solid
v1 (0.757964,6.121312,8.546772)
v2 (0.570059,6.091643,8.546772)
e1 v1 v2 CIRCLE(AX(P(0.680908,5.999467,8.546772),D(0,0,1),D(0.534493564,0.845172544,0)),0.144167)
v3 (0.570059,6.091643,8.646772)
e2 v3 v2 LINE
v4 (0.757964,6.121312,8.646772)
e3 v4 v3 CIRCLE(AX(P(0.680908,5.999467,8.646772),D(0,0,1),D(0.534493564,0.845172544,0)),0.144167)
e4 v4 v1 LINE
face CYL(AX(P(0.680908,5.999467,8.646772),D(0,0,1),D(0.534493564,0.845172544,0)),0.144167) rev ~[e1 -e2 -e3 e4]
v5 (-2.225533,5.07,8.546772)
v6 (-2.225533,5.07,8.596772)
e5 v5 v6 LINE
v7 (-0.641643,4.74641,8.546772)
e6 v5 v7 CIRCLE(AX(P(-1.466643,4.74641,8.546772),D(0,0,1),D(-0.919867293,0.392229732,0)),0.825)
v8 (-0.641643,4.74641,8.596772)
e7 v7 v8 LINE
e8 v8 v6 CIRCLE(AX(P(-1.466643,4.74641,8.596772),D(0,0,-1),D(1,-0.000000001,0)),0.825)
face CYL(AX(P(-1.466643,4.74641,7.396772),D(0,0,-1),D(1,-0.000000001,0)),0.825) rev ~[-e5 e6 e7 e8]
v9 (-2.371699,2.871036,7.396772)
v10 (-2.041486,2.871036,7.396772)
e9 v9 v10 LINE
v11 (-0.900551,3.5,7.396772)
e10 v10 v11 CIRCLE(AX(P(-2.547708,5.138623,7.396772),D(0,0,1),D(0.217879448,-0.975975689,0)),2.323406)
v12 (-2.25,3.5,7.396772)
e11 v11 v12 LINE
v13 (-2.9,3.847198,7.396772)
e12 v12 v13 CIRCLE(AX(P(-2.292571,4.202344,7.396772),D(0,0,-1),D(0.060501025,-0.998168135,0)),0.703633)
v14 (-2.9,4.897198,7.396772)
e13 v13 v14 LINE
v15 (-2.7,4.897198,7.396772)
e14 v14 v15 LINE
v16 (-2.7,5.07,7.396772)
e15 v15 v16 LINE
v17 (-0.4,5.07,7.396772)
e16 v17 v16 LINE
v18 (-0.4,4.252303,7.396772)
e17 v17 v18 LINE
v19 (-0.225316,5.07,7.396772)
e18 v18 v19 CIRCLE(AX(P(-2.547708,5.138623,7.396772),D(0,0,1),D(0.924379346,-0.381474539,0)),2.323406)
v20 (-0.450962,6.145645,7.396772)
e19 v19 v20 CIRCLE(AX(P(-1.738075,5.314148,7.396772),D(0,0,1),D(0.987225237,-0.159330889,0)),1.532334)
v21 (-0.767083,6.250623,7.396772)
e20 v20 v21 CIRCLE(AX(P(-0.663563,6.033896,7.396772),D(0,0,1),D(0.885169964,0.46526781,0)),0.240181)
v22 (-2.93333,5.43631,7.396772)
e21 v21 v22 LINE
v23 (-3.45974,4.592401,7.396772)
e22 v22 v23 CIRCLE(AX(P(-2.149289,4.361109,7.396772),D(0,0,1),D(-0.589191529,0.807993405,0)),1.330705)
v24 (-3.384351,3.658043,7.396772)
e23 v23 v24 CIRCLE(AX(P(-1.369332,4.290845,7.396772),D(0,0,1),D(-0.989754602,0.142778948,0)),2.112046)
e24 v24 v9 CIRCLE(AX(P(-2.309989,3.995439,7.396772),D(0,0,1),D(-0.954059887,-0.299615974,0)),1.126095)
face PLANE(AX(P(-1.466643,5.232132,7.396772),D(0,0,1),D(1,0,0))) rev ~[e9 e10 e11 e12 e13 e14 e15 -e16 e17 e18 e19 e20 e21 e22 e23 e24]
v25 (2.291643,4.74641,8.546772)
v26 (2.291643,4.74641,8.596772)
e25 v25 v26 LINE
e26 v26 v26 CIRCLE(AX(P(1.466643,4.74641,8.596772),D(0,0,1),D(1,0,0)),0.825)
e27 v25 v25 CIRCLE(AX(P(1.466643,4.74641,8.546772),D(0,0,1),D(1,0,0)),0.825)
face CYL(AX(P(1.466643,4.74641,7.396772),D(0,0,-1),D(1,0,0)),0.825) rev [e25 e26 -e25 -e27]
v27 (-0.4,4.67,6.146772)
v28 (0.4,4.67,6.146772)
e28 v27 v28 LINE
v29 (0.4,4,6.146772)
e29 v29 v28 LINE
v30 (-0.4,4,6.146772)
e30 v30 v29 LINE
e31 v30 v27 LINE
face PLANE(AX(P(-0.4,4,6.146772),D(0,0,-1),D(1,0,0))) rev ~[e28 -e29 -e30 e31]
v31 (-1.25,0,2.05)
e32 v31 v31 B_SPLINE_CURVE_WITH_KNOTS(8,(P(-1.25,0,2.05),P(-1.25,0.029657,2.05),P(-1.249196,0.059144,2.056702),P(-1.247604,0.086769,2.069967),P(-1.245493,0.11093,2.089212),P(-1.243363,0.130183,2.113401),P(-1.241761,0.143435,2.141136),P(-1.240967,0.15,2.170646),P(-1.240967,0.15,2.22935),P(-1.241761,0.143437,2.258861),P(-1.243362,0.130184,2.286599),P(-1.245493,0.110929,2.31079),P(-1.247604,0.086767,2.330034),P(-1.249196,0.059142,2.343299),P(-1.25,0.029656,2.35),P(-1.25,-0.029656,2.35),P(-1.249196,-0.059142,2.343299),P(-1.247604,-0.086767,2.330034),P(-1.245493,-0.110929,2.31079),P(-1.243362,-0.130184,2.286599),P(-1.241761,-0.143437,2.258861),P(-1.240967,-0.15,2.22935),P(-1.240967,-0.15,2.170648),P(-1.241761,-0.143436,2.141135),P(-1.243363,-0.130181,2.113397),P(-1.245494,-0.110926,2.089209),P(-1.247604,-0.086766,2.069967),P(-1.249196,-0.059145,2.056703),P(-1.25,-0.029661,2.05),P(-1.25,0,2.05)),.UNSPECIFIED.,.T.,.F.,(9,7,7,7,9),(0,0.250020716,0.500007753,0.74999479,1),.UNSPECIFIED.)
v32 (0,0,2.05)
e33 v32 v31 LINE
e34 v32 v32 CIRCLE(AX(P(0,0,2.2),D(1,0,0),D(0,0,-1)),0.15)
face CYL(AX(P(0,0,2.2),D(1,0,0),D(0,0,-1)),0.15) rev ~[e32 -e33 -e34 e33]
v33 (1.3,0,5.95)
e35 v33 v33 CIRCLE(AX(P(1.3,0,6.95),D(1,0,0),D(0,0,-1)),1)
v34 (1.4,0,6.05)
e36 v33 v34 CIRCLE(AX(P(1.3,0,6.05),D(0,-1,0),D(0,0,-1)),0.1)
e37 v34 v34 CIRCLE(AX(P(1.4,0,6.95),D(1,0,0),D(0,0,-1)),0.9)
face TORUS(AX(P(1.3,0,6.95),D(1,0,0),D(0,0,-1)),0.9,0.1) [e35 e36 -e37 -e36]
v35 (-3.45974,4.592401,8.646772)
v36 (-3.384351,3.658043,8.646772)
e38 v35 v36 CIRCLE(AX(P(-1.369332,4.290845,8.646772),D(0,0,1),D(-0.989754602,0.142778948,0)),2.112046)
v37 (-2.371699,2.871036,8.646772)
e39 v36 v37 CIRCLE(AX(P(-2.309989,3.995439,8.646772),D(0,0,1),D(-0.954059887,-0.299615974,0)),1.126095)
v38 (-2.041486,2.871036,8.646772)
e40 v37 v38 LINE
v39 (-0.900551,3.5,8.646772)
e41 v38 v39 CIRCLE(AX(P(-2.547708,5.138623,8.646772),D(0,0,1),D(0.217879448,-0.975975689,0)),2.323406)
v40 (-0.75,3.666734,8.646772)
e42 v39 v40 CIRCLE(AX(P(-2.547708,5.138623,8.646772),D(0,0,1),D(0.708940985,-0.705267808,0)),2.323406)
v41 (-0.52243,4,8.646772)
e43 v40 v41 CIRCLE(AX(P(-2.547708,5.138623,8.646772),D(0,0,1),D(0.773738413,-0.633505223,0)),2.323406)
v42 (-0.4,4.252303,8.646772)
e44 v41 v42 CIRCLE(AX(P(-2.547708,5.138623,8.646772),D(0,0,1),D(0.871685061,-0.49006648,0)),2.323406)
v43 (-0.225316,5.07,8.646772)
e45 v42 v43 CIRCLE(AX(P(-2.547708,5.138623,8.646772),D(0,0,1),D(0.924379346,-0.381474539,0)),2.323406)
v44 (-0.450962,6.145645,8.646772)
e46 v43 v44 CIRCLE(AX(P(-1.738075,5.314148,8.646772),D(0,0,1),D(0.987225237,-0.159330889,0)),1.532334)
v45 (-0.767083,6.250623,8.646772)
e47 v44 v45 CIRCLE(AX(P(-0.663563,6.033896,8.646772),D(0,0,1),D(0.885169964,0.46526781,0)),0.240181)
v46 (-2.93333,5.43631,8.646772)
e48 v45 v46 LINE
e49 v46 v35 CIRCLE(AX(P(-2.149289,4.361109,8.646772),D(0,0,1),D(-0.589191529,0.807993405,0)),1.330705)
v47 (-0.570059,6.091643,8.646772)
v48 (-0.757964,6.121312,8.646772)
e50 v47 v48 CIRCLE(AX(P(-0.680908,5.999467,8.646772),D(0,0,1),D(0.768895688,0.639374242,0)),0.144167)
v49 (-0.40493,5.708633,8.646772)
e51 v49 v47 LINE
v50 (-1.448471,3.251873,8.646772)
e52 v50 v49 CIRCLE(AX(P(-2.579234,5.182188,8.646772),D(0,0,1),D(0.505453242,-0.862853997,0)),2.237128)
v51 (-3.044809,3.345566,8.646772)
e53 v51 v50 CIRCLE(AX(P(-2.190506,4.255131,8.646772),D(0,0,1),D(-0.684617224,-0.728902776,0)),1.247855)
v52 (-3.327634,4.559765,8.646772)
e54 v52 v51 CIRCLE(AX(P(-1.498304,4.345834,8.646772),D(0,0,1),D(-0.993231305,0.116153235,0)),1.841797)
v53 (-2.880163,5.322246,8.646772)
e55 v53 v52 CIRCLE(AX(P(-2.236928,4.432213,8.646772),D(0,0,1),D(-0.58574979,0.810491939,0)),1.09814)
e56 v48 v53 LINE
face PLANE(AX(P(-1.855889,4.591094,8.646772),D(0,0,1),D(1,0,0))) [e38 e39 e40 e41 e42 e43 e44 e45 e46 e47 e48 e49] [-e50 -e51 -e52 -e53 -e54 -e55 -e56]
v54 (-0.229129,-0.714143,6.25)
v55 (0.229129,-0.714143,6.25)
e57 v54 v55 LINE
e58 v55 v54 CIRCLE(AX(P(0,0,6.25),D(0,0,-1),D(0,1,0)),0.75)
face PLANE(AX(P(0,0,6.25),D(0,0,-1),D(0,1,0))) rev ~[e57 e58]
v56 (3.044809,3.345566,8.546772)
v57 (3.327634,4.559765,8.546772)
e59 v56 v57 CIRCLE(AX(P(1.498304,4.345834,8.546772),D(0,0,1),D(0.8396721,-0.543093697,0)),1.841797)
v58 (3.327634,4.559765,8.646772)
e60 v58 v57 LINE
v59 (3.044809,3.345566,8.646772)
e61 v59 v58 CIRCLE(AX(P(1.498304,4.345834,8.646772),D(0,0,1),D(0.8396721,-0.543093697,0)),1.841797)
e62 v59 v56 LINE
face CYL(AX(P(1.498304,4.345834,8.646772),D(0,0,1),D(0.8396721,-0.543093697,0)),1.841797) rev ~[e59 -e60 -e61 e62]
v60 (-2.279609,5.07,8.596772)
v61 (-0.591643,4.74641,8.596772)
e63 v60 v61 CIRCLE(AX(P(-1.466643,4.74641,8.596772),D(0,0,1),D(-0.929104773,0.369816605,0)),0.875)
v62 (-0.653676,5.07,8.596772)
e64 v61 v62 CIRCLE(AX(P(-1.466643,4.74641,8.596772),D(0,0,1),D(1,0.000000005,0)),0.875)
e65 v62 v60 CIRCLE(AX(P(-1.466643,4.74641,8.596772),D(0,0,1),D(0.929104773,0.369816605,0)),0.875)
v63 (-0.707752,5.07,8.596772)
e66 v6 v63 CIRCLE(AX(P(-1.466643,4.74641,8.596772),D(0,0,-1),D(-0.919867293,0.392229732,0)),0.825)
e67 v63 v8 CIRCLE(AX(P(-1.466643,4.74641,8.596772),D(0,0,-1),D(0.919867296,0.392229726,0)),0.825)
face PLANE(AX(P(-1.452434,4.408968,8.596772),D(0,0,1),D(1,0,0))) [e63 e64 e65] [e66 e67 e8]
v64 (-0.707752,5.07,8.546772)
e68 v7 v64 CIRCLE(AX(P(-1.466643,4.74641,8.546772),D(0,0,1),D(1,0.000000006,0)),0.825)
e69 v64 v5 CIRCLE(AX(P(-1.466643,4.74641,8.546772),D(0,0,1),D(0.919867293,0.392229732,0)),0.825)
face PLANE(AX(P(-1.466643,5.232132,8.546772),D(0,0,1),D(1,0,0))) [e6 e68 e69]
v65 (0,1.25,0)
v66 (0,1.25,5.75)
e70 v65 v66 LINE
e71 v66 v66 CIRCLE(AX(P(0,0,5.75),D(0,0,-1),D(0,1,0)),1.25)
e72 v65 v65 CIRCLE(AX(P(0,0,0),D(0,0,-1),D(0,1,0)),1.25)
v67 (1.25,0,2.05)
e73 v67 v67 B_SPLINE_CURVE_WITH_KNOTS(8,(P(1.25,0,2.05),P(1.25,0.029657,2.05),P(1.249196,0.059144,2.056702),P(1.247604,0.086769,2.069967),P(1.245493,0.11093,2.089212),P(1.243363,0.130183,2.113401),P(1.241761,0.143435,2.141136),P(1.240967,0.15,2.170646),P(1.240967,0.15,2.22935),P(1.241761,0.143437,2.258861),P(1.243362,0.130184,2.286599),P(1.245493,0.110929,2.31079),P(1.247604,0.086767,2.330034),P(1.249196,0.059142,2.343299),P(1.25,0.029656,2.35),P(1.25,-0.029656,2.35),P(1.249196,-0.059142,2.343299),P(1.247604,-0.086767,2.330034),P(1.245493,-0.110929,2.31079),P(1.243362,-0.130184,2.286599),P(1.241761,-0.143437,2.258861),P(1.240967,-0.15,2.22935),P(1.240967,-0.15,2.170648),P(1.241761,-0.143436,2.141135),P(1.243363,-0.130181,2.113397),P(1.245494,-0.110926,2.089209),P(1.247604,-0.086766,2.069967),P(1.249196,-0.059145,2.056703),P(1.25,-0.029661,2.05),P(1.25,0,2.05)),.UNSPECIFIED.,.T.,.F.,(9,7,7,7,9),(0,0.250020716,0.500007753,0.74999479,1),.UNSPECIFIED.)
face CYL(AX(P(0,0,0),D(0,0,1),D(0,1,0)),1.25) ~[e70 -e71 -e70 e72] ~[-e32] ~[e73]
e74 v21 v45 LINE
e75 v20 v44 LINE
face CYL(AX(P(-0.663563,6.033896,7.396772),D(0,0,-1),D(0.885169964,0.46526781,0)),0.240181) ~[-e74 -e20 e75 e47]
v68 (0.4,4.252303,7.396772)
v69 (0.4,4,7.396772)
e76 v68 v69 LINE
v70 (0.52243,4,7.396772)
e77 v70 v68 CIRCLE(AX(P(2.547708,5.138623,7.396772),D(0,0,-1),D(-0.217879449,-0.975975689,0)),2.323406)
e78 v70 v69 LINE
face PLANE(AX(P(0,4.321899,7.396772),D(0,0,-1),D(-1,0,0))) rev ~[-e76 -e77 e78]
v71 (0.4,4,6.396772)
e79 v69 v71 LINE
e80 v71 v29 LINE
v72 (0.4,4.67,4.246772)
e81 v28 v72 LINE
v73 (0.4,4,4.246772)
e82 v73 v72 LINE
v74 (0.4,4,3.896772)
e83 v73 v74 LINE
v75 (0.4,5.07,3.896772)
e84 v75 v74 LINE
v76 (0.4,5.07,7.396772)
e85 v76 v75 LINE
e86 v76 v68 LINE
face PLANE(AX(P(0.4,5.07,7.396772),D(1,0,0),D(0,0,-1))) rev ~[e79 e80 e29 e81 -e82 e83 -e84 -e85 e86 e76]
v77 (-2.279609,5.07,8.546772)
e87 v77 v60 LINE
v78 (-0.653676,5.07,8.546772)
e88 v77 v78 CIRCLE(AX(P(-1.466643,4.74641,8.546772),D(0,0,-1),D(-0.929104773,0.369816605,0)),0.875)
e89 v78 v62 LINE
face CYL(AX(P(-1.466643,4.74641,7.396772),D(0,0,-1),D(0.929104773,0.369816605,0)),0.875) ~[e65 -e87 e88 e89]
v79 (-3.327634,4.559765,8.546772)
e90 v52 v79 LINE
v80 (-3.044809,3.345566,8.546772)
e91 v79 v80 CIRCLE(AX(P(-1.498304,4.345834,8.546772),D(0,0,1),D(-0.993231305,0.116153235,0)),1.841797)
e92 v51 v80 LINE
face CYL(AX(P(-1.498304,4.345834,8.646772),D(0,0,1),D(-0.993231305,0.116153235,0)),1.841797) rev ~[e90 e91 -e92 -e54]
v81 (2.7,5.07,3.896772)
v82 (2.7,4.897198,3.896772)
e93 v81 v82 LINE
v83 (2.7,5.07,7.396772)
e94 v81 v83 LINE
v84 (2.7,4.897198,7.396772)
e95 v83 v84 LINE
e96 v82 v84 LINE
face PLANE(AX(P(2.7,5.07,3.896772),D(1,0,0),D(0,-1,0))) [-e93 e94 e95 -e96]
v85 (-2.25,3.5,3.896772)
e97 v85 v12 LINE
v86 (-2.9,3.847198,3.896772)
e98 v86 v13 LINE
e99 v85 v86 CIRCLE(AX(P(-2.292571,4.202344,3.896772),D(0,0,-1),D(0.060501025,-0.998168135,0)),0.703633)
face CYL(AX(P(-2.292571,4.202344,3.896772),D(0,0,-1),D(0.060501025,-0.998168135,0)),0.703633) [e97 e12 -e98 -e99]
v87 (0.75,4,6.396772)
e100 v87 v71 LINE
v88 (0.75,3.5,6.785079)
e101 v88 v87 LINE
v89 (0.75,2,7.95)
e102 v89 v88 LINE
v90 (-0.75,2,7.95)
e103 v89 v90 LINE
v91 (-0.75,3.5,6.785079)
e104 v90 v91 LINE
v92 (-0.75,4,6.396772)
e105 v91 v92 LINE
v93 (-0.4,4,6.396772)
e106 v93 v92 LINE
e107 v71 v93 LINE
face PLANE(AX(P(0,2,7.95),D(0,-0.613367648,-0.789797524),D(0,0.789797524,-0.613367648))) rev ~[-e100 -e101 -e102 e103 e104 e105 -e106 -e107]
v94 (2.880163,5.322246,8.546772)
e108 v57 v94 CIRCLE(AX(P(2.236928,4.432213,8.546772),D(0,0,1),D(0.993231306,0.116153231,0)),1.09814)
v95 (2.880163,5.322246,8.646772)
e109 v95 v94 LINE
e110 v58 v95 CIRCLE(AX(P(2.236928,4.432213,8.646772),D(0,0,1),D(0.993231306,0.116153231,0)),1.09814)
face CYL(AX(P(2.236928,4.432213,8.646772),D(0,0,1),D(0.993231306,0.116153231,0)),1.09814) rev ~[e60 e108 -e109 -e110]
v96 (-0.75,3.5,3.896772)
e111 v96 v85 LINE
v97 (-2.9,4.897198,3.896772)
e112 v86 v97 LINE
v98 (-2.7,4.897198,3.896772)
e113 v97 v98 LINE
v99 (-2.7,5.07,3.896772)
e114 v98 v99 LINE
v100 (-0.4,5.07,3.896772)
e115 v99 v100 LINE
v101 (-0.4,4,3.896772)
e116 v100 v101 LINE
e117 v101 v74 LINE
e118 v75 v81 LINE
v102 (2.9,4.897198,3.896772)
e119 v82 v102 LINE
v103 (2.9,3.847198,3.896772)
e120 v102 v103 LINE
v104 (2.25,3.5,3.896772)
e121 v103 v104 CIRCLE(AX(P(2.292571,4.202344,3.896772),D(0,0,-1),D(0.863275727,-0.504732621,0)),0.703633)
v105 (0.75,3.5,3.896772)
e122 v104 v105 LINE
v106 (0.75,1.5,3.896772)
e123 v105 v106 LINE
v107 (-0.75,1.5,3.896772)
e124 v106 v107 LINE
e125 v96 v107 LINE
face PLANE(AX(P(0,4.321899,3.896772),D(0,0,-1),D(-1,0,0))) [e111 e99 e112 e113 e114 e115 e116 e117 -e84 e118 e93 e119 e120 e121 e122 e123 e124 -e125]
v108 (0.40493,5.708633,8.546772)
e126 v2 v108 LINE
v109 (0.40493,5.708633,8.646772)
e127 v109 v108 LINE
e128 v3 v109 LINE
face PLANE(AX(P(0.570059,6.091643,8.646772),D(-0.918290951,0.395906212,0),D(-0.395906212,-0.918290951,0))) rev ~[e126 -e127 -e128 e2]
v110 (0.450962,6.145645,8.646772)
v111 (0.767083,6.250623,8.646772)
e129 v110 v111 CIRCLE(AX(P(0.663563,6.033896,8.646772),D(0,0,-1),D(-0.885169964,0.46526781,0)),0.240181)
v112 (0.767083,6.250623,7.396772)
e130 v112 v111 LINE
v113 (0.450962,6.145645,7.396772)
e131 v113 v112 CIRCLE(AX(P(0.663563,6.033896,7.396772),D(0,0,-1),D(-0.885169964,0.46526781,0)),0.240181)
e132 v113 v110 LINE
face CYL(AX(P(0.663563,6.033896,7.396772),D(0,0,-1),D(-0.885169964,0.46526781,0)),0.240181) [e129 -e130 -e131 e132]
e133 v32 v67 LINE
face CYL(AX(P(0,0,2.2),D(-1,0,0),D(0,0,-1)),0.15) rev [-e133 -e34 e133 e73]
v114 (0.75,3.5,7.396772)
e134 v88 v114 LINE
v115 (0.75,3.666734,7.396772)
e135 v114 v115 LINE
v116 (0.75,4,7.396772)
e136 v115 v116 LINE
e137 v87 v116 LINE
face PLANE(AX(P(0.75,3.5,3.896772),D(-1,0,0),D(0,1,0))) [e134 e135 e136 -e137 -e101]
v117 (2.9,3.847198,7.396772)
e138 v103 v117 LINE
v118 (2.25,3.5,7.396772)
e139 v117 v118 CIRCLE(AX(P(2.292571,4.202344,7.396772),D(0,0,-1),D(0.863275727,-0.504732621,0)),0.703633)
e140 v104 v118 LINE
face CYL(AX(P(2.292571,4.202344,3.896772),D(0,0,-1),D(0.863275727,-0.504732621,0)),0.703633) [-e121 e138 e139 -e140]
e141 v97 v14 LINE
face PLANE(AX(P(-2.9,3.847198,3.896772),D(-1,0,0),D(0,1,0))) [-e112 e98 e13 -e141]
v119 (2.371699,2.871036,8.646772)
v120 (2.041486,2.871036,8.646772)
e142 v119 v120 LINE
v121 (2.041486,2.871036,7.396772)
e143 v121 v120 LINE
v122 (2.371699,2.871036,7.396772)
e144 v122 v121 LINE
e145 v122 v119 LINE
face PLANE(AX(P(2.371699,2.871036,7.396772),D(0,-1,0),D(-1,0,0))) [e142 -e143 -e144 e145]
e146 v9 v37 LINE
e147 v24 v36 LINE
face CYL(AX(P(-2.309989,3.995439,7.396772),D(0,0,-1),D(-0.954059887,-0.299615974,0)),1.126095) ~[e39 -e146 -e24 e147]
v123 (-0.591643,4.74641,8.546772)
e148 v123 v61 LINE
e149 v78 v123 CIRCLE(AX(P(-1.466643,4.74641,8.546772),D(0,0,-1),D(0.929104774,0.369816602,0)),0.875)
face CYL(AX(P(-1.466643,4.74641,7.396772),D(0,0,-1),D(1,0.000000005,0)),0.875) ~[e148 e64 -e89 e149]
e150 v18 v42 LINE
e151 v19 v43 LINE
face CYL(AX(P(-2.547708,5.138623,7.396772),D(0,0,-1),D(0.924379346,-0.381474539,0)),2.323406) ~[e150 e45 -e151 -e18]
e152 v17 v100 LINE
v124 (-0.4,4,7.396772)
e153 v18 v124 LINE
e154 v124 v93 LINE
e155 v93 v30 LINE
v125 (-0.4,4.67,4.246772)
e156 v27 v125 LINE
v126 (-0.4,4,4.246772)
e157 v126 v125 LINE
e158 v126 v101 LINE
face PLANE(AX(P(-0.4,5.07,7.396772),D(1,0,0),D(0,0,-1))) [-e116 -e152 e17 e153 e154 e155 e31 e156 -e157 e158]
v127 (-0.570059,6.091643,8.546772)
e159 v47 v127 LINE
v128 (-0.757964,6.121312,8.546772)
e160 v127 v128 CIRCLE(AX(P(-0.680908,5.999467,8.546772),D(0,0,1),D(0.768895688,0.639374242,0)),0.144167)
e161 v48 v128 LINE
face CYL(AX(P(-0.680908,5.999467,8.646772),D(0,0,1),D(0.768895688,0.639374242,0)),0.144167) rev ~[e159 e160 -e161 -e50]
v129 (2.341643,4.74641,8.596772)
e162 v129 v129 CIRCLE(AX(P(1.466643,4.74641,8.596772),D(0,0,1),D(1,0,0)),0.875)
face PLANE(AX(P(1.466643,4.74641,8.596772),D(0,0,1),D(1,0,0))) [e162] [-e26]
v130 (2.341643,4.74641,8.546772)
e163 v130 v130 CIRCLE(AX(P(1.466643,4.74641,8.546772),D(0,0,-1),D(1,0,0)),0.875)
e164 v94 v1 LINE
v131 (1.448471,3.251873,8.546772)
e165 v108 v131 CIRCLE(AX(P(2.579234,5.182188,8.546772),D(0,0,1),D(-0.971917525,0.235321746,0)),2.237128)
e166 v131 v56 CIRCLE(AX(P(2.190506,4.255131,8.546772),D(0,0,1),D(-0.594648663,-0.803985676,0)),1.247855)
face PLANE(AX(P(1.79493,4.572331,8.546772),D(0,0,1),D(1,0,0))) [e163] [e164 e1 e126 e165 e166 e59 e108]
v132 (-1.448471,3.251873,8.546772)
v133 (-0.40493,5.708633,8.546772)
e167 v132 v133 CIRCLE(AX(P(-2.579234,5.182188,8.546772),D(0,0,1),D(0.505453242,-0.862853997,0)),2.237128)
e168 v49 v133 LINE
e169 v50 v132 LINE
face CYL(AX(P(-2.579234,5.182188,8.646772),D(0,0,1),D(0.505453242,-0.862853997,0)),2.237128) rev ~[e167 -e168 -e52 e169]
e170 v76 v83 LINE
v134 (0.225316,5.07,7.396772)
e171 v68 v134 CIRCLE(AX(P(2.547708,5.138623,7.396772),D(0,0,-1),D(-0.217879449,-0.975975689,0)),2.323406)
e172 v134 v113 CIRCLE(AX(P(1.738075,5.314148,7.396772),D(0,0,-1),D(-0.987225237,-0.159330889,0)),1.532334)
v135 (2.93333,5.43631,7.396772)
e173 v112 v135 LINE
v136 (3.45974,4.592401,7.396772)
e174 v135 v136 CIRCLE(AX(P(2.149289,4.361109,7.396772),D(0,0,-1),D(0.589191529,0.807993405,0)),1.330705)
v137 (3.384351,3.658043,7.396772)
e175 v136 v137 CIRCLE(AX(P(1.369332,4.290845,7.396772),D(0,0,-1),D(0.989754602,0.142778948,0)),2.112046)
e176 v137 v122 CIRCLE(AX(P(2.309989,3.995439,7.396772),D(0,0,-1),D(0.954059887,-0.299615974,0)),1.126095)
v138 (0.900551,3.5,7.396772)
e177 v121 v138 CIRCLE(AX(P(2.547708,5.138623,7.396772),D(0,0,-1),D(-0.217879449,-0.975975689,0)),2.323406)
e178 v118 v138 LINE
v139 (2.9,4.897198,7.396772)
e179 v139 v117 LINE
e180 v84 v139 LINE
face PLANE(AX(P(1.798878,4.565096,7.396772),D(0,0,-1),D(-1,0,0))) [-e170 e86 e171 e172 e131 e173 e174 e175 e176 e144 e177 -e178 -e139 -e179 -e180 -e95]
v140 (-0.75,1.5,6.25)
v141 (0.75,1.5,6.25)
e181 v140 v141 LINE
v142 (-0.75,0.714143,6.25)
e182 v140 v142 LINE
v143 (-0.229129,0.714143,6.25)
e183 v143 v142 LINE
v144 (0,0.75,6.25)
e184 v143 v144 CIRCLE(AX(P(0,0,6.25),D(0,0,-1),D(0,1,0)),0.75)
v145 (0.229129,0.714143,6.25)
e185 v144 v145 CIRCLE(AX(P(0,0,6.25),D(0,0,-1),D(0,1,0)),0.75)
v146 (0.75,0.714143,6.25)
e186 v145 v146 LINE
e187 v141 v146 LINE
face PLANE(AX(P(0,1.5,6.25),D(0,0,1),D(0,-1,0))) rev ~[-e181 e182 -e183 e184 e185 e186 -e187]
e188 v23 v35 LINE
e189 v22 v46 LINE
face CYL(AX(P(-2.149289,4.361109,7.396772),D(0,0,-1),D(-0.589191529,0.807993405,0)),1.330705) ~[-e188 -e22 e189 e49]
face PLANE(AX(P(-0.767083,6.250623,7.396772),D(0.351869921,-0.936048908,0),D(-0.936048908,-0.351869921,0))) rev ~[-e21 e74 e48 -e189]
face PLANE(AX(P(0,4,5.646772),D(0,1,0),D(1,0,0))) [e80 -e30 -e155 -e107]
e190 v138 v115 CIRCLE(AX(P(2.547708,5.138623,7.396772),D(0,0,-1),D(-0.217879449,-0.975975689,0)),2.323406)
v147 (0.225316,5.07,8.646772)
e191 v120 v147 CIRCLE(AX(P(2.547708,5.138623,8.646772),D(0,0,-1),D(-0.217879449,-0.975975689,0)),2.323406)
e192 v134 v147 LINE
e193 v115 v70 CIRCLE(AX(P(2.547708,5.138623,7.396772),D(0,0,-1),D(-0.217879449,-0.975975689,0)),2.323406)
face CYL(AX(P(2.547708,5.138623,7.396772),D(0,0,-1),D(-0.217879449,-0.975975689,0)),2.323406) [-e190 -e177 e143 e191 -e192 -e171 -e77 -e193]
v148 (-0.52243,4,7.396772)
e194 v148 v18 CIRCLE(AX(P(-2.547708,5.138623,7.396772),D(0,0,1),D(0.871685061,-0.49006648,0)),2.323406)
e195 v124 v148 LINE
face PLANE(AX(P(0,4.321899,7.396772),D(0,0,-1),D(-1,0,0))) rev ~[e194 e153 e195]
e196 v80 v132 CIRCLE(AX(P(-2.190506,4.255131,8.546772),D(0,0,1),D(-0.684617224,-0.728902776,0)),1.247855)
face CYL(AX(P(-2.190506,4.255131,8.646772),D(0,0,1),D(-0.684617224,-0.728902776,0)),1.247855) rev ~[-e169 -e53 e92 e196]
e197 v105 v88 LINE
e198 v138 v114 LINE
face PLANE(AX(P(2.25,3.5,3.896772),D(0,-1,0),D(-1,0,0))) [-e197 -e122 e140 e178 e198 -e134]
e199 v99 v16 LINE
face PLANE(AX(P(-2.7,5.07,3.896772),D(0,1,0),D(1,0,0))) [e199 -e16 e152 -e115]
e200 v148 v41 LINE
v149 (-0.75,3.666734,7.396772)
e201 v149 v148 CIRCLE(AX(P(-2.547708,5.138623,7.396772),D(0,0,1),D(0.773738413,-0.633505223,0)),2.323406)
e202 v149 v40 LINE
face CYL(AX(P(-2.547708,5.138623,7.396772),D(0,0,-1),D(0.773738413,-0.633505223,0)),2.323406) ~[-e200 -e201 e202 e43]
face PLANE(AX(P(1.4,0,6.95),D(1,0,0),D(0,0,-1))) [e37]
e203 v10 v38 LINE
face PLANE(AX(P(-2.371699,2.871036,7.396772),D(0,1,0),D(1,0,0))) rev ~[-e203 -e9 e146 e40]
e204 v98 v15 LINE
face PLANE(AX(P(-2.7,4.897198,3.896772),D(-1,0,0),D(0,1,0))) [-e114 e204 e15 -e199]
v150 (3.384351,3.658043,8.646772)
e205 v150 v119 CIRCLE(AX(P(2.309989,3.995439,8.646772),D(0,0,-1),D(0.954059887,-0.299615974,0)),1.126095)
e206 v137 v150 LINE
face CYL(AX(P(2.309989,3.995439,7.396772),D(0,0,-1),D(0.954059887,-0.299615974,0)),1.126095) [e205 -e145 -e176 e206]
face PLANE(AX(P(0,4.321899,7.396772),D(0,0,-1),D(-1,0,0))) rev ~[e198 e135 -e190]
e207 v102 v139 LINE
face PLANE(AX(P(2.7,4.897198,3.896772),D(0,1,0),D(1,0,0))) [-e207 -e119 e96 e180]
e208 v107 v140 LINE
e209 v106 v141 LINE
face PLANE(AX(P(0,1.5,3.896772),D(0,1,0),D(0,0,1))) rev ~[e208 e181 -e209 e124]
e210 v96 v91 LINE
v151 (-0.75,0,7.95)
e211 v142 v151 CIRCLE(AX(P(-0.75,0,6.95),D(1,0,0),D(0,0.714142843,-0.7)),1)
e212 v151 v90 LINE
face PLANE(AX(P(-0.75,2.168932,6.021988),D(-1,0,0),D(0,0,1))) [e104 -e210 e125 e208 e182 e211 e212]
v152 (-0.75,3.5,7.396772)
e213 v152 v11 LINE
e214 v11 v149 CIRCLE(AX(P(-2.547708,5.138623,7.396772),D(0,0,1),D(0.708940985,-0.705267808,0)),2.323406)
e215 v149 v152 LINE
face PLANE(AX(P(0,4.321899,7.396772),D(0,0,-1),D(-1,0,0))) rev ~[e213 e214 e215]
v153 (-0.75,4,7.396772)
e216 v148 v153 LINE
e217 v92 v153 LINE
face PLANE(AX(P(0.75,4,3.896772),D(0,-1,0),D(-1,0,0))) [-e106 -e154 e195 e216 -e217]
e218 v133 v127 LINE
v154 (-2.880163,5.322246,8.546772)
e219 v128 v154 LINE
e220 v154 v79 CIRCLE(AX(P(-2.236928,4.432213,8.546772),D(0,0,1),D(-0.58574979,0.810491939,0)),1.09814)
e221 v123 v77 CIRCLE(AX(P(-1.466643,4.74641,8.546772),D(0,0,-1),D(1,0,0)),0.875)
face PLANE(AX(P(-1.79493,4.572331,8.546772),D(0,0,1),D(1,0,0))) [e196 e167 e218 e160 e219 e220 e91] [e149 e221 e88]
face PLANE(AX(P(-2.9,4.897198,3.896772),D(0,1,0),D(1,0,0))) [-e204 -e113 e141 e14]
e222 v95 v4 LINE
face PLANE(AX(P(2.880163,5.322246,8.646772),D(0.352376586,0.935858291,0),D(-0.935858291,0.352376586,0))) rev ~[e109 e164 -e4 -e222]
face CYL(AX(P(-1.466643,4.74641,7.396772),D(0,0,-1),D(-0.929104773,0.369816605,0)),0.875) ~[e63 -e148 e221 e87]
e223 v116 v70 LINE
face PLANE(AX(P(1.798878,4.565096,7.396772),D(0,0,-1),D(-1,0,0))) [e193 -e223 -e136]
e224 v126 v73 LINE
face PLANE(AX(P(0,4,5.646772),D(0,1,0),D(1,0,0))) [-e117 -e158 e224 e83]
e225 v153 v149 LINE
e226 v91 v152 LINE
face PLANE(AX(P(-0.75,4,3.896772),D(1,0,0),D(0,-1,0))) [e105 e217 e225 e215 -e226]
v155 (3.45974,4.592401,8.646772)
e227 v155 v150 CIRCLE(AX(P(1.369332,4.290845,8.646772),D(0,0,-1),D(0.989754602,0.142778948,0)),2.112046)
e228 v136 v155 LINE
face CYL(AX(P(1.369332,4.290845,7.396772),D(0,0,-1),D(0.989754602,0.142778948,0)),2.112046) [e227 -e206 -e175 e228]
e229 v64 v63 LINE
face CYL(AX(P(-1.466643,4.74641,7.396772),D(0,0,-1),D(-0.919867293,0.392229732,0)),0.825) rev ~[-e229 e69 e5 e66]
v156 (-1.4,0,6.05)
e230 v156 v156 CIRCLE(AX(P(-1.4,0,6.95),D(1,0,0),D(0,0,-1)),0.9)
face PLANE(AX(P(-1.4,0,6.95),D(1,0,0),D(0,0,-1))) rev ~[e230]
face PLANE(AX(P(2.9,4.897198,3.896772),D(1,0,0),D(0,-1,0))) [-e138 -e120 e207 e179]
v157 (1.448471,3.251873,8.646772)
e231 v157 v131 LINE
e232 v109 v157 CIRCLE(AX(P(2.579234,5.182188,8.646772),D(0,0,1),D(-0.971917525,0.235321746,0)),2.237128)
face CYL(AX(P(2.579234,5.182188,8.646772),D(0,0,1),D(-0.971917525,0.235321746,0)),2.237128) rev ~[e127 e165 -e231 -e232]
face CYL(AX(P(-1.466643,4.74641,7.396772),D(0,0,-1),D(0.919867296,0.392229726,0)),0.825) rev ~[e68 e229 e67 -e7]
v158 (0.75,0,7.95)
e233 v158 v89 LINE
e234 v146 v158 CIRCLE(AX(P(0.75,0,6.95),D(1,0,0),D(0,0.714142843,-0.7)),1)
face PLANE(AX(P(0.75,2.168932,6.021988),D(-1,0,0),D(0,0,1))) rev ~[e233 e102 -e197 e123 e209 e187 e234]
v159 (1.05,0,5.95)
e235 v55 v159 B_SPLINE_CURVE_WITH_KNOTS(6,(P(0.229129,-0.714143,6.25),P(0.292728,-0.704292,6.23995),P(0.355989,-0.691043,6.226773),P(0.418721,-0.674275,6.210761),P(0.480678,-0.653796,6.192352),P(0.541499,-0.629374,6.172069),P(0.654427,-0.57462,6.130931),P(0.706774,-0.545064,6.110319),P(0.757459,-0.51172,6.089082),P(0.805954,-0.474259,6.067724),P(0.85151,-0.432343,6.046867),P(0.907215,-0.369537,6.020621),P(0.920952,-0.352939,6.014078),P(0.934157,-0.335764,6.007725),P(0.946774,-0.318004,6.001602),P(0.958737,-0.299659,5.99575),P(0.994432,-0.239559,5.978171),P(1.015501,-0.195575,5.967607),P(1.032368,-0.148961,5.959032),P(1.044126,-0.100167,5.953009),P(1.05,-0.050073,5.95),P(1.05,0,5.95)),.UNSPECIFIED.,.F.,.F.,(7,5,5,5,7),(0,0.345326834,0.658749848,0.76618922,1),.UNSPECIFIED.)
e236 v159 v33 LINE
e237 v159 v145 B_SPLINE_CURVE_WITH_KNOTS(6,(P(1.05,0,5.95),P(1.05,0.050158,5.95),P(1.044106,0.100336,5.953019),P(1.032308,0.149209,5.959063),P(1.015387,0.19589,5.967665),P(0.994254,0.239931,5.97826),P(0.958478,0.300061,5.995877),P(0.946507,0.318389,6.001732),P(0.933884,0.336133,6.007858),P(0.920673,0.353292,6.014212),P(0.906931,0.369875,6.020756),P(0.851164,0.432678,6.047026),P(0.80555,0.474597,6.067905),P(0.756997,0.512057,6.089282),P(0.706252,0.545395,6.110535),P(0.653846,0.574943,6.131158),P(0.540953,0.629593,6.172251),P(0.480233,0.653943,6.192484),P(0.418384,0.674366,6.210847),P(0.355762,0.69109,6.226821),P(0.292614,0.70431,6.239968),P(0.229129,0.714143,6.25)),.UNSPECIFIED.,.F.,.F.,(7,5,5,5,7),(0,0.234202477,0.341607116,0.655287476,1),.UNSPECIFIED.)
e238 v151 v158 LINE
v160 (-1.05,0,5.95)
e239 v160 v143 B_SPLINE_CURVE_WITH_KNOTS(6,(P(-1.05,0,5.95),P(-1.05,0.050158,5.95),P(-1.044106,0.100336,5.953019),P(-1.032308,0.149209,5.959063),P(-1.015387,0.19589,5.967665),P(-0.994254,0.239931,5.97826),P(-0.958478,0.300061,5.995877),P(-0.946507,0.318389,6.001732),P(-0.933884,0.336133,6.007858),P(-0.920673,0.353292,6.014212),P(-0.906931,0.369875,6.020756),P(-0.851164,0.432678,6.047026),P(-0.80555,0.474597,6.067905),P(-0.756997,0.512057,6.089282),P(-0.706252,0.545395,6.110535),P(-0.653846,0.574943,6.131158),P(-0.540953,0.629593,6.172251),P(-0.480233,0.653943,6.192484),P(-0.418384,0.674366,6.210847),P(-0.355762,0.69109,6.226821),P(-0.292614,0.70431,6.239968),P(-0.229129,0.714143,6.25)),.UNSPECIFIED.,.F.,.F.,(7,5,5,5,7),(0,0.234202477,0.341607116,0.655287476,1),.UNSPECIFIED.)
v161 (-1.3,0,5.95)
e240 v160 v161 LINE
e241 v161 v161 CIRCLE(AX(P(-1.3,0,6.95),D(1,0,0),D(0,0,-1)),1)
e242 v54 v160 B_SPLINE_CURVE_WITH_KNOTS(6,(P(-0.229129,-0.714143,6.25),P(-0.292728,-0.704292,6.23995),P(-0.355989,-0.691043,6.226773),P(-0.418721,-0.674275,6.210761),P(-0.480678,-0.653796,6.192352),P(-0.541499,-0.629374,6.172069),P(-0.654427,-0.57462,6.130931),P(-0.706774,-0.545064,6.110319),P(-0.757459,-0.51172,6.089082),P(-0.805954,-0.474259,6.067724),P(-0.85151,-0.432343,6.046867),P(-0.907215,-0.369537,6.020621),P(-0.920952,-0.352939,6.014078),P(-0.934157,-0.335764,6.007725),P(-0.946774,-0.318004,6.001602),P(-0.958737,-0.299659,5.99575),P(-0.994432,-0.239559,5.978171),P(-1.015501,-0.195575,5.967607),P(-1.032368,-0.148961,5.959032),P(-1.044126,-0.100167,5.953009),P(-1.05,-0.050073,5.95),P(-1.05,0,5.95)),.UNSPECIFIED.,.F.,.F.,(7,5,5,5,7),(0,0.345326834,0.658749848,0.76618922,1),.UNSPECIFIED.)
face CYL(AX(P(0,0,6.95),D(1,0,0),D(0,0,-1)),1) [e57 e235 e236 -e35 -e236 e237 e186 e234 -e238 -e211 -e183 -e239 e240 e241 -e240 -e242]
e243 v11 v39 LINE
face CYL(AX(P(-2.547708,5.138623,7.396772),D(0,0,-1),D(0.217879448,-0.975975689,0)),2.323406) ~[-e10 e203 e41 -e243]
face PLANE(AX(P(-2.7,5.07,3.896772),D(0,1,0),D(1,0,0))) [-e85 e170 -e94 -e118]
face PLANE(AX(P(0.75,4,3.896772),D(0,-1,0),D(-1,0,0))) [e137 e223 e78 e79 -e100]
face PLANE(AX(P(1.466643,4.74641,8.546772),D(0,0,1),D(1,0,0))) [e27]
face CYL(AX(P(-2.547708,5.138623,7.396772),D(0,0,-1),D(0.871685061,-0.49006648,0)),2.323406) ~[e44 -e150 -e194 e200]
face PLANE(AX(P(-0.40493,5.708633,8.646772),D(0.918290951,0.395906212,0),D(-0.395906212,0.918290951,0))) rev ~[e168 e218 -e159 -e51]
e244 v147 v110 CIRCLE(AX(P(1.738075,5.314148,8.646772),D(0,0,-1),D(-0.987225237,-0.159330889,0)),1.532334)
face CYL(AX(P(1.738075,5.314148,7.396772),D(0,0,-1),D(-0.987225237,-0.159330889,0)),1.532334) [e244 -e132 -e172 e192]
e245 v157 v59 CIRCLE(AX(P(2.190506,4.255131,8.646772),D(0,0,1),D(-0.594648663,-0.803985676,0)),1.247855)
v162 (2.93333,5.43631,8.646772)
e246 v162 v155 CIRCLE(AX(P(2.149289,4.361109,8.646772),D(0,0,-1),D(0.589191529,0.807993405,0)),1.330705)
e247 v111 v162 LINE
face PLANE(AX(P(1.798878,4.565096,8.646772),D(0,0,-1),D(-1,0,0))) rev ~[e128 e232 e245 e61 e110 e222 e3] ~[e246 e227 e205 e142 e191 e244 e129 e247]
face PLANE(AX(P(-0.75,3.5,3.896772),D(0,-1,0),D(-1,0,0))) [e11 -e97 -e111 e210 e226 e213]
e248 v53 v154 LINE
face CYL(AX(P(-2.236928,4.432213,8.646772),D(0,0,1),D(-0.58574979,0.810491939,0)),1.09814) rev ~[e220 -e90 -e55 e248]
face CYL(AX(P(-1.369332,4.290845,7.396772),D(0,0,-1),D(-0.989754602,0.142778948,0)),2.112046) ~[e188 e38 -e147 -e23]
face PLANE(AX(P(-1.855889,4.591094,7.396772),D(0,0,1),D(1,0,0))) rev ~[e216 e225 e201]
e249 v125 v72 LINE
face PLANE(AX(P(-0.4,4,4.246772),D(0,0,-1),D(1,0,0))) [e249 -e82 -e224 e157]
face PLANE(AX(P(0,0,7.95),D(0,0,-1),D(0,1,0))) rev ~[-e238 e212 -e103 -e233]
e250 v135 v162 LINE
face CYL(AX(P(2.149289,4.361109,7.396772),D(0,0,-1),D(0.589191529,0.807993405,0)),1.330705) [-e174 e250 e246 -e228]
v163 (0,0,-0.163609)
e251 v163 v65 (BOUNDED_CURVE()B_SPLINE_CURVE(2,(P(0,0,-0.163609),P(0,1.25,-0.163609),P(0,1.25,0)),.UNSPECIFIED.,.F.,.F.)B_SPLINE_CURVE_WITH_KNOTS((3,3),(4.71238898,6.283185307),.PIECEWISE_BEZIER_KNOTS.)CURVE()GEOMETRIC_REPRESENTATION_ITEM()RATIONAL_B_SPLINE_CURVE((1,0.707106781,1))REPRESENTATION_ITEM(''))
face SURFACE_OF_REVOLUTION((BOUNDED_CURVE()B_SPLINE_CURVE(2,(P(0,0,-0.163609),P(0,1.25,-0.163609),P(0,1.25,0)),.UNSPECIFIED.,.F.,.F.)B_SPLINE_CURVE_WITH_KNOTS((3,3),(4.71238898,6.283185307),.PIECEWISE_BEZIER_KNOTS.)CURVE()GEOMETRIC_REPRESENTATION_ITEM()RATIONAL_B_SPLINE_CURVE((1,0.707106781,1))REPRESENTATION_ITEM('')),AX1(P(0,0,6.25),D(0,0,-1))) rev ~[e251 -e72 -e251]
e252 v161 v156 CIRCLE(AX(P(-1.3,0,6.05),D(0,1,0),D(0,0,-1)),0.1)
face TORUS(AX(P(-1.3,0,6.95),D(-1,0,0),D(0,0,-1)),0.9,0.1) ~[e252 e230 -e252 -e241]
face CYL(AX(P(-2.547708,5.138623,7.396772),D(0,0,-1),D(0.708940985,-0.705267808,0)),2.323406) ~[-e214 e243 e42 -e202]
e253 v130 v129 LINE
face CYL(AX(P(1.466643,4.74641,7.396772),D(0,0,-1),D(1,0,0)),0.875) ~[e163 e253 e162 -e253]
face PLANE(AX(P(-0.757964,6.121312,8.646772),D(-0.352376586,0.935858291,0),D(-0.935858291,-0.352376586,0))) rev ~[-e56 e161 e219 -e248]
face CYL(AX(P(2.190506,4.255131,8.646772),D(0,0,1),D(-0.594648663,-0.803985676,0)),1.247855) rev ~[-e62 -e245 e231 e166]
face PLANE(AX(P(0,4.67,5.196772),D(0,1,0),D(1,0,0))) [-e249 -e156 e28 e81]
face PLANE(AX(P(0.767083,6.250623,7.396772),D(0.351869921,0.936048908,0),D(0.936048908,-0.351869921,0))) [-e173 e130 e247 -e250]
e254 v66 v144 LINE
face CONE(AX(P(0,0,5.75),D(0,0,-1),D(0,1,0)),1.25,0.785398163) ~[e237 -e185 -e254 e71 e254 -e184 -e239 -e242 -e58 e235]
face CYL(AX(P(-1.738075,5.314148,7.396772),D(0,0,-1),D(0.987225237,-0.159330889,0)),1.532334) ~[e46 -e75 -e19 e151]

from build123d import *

# Parameters (mm, degrees)
SKETCH3_R                                 = 1
HINGE_CONNECTED_TO_BOTTOM_TUBE_DEPTH      = 1.4
HINGE_CONNECTED_TO_BOTTOM_TUBE_DEPTH_BACK = 1.4
FILLET_ON_HINGE_R                         = 0.1
BASE_CONNECTED_TO_EYES_DEPTH              = 0.75
BASE_CONNECTED_TO_EYES_DEPTH_BACK         = 0.75
EYE_BACKING_DEPTH                         = 3.5
SKETCH7_W                                 = 0.8
SKETCH7_H                                 = 3.5
EYE_BACKING_DETAILS_DEPTH                 = 1.07
SKETCH8_W                                 = 0.8
SKETCH8_H                                 = 1.9
MIDDLE_OF_EYE_BACKING_DEPTH               = 0.67
SKETCH12_R                                = 0.875
OUTER_EYE_DEPTH                           = 1.25
INNER_EYE_CUT_DEPTH                       = 0.1
SKETCH12_5_R                              = 0.875
SKETCH12_5_R_2                            = 0.825
OUTER_LENS_DEPTH                          = 1.2
SKETCH12_7_R                              = 0.825
INNER_LENS_CUT_DEPTH                      = 1.15
CUT_EXTRUDE3_REACH                        = 5.481
SKETCH15_R                                = 0.15
CUT_EXTRUDE3_DIRECTION_2_REACH            = 5.481
SKETCH12_6_R                              = 0.825
BOSS_EXTRUDE16_DEPTH                      = 1.15


with BuildPart() as part:
    # Sketch2 → Bottom tube (revolve)
    with BuildSketch(Plane(origin=(0, 0, 0), x_dir=(0, 0, -1), z_dir=(1, 0, 0))):
        Polygon((0, 0), (0, 1.25), (-5.75, 1.25), (-6.25, 0.75), (-6.25, 0), align=None)
        with BuildLine():
            add(Edge.make_bspline(
                [(0.163609492, 0), (0.163609492, 1.25), (0, 1.25)],
                knots=[4.71238898, 4.71238898, 4.71238898, 6.283185307, 6.283185307, 6.283185307], degree=2, weights=[1, 0.707106781, 1]))
            Line((0, 1.25), (0, 0))
            Line((0, 0), (0.163609492, 0))
        make_face()
    revolve(axis=Axis((0, 0, 6.25), (0, 0, -1)))

    # Sketch3 → Hinge connected to bottom tube (add, two sides)
    with BuildSketch(Plane(origin=(0, 0, 0), x_dir=(0, 0, -1), z_dir=(1, 0, 0))) as hinge_connected_to_bottom_tube_sk:
        with Locations((-6.95, 0)):
            Circle(SKETCH3_R)
    extrude(amount=HINGE_CONNECTED_TO_BOTTOM_TUBE_DEPTH)
    extrude(hinge_connected_to_bottom_tube_sk.sketch, amount=-HINGE_CONNECTED_TO_BOTTOM_TUBE_DEPTH_BACK)

    # fillet on hinge
    fillet_on_hinge_edges = [part.edges().sort_by_distance(p)[0] for p in [
        (-1.4, 0, 7.95),
        (1.4, 0, 7.95),
    ]]
    fillet(fillet_on_hinge_edges, radius=FILLET_ON_HINGE_R)

    # Sketch4 → base connected to eyes (add, two sides)
    with BuildSketch(Plane(origin=(0, 0, 0), x_dir=(0, 0, -1), z_dir=(1, 0, 0))) as base_connected_to_eyes_sk:
        with BuildLine():
            Line((-7.95, 0), (-7.95, 2))
            Line((-7.95, 2), (-6.39677242, 4))
            Line((-6.39677242, 4), (-3.89677242, 4))
            Line((-3.89677242, 4), (-3.89677242, 1.5))
            Line((-3.89677242, 1.5), (-6.25, 1.5))
            Line((-6.25, 1.5), (-6.25, 0.714142843))
            ThreePointArc((-6.25, 0.714142843), (-7.337298335, 0.921954446), (-7.95, 0))
        make_face()
    extrude(amount=BASE_CONNECTED_TO_EYES_DEPTH)
    extrude(base_connected_to_eyes_sk.sketch, amount=-BASE_CONNECTED_TO_EYES_DEPTH_BACK)

    # Sketch5 → Eye backing (add)
    with BuildSketch(Plane(origin=(0, 0, 3.89677242), x_dir=(-1, 0, 0), z_dir=(0, 0, -1))):
        with BuildLine():
            Line((0.75, 3.5), (2.25, 3.5))
            ThreePointArc((2.25, 3.5), (2.62408667, 3.581702047), (2.9, 3.847197614))
            Line((2.9, 3.847197614), (2.9, 4.897197614))
            Line((2.9, 4.897197614), (2.7, 4.897197614))
            Line((2.7, 4.897197614), (2.7, 5.07))
            Line((2.7, 5.07), (-2.7, 5.07))
            Line((-2.7, 5.07), (-2.7, 4.897197614))
            Line((-2.7, 4.897197614), (-2.9, 4.897197614))
            Line((-2.9, 4.897197614), (-2.9, 3.847197614))
            ThreePointArc((-2.9, 3.847197614), (-2.62408667, 3.581702047), (-2.25, 3.5))
            Line((-2.25, 3.5), (-0.75, 3.5))
            Line((-0.75, 3.5), (-0.75, 4))
            Line((-0.75, 4), (0.75, 4))
            Line((0.75, 4), (0.75, 3.5))
        make_face()
    extrude(amount=-EYE_BACKING_DEPTH)

    # Sketch7 → Eye backing details (cut)
    with BuildSketch(Plane(origin=(0, 5.07, 0), x_dir=(1, 0, 0), z_dir=(0, 1, 0))):
        with Locations((0, -5.64677242)):
            Rectangle(SKETCH7_W, SKETCH7_H)
    extrude(amount=-EYE_BACKING_DETAILS_DEPTH, mode=Mode.SUBTRACT)

    # Sketch8 → Middle of eye backing (add)
    with BuildSketch(Plane(origin=(0, 4, 0), x_dir=(1, 0, 0), z_dir=(0, 1, 0))):
        with Locations((0, -5.19677242)):
            Rectangle(SKETCH8_W, SKETCH8_H)
    extrude(amount=MIDDLE_OF_EYE_BACKING_DEPTH)

    # Sketch12 → Outer eye (add)
    with BuildSketch(Plane.XY.offset(7.39677242)):
        with BuildLine():
            ThreePointArc((-0.450961505, 6.145644801), (-0.587867618, 6.261837628), (-0.767083386, 6.250623109))
            Line((-0.767083386, 6.250623109), (-2.933329516, 5.436310045))
            ThreePointArc((-2.933329516, 5.436310045), (-3.278345677, 5.065387345), (-3.459739663, 4.592401064))
            ThreePointArc((-3.459739663, 4.592401064), (-3.474536987, 4.120986543), (-3.384350783, 3.658042637))
            ThreePointArc((-3.384350783, 3.658042637), (-3.001009551, 3.106292928), (-2.371698574, 2.871035758))
            Line((-2.371698574, 2.871035758), (-2.041485898, 2.871035758))
            ThreePointArc((-2.041485898, 2.871035758), (-1.426030829, 3.103911019), (-0.900550716, 3.5))
            Line((-0.900550716, 3.5), (-2.25, 3.5))
            ThreePointArc((-2.25, 3.5), (-2.62408667, 3.581702047), (-2.9, 3.847197614))
            Line((-2.9, 3.847197614), (-2.9, 4.897197614))
            Line((-2.9, 4.897197614), (-2.7, 4.897197614))
            Line((-2.7, 4.897197614), (-2.7, 5.07))
            Line((-2.7, 5.07), (-2.279609228, 5.07))
            ThreePointArc((-2.279609228, 5.07), (-1.466642551, 5.621410471), (-0.653675875, 5.07))
            Line((-0.653675875, 5.07), (-0.4, 5.07))
            Line((-0.4, 5.07), (-0.4, 4.252303124))
            ThreePointArc((-0.4, 4.252303124), (-0.275571311, 4.653228748), (-0.225316176, 5.07))
            ThreePointArc((-0.225316176, 5.07), (-0.238383659, 5.628748724), (-0.450961505, 6.145644801))
        make_face()
        with BuildLine():
            ThreePointArc((-0.75, 3.6667336), (-0.628965774, 3.828416623), (-0.522430198, 4))
            Line((-0.522430198, 4), (-0.75, 4))
            Line((-0.75, 4), (-0.75, 3.6667336))
        make_face()
        with BuildLine():
            ThreePointArc((-0.522430198, 4), (-0.45740495, 4.124302685), (-0.4, 4.252303124))
            Line((-0.4, 4.252303124), (-0.4, 5.07))
            Line((-0.4, 5.07), (-0.653675875, 5.07))
            ThreePointArc((-0.653675875, 5.07), (-0.607290807, 4.911151417), (-0.591642551, 4.746410471))
            ThreePointArc((-0.591642551, 4.746410471), (-1.631383497, 3.887058726), (-2.279609228, 5.07))
            Line((-2.279609228, 5.07), (-2.7, 5.07))
            Line((-2.7, 5.07), (-2.7, 4.897197614))
            Line((-2.7, 4.897197614), (-2.9, 4.897197614))
            Line((-2.9, 4.897197614), (-2.9, 3.847197614))
            ThreePointArc((-2.9, 3.847197614), (-2.62408667, 3.581702047), (-2.25, 3.5))
            Line((-2.25, 3.5), (-0.900550716, 3.5))
            ThreePointArc((-0.900550716, 3.5), (-0.823259036, 3.581546179), (-0.75, 3.6667336))
            Line((-0.75, 3.6667336), (-0.75, 4))
            Line((-0.75, 4), (-0.522430198, 4))
        make_face()
        with BuildLine():
            ThreePointArc((2.933329516, 5.436310045), (3.278345677, 5.065387345), (3.459739663, 4.592401064))
            ThreePointArc((3.459739663, 4.592401064), (3.474536987, 4.120986543), (3.384350783, 3.658042637))
            ThreePointArc((3.384350783, 3.658042637), (3.001009551, 3.106292928), (2.371698574, 2.871035758))
            Line((2.371698574, 2.871035758), (2.041485898, 2.871035758))
            ThreePointArc((2.041485898, 2.871035758), (0.756304939, 3.659066468), (0.225316176, 5.07))
            ThreePointArc((0.225316176, 5.07), (0.238383659, 5.628748724), (0.450961505, 6.145644801))
            ThreePointArc((0.450961505, 6.145644801), (0.587867618, 6.261837628), (0.767083386, 6.250623109))
            Line((0.767083386, 6.250623109), (2.933329516, 5.436310045))
        make_face()
        with Locations((1.466642551, 4.746410471)):
            Circle(SKETCH12_R, mode=Mode.SUBTRACT)
    extrude(amount=OUTER_EYE_DEPTH)

    # Sketch13 → Inner eye cut (cut)
    with BuildSketch(Plane.XY.offset(8.64677242)):
        with BuildLine():
            Line((-0.757964351, 6.121312443), (-2.880162803, 5.322245904))
            ThreePointArc((-2.880162803, 5.322245904), (-3.184019481, 4.988025414), (-3.327634423, 4.55976502))
            ThreePointArc((-3.327634423, 4.55976502), (-3.29208127, 3.928007422), (-3.044809473, 3.345565711))
            ThreePointArc((-3.044809473, 3.345565711), (-2.263619647, 3.009419304), (-1.448470515, 3.251873102))
            ThreePointArc((-1.448470515, 3.251873102), (-0.52016025, 4.307569927), (-0.404930121, 5.708633007))
            Line((-0.404930121, 5.708633007), (-0.570058708, 6.091643131))
            ThreePointArc((-0.570058708, 6.091643131), (-0.658423401, 6.141869268), (-0.757964351, 6.121312443))
        make_face()
        with BuildLine():
            Line((0.570058708, 6.091643131), (0.404930121, 5.708633007))
            ThreePointArc((0.404930121, 5.708633007), (0.52016025, 4.307569927), (1.448470515, 3.251873102))
            ThreePointArc((1.448470515, 3.251873102), (2.263619647, 3.009419304), (3.044809473, 3.345565711))
            ThreePointArc((3.044809473, 3.345565711), (3.29208127, 3.928007422), (3.327634423, 4.55976502))
            ThreePointArc((3.327634423, 4.55976502), (3.184019481, 4.988025414), (2.880162803, 5.322245904))
            Line((2.880162803, 5.322245904), (0.757964351, 6.121312443))
            ThreePointArc((0.757964351, 6.121312443), (0.658423401, 6.141869268), (0.570058708, 6.091643131))
        make_face()
    extrude(amount=-INNER_EYE_CUT_DEPTH, mode=Mode.SUBTRACT)

    # Sketch12_5 → Outer lens (add)
    with BuildSketch(Plane.XY.offset(7.39677242)):
        with BuildLine():
            ThreePointArc((-2.279609228, 5.07), (-1.631383497, 3.887058726), (-0.591642551, 4.746410471))
            ThreePointArc((-0.591642551, 4.746410471), (-0.607290807, 4.911151417), (-0.653675875, 5.07))
            Line((-0.653675875, 5.07), (-0.707752034, 5.07))
            ThreePointArc((-0.707752034, 5.07), (-0.658338872, 4.911547268), (-0.641642551, 4.746410471))
            ThreePointArc((-0.641642551, 4.746410471), (-1.631779348, 3.938106792), (-2.225533068, 5.07))
            Line((-2.225533068, 5.07), (-2.279609228, 5.07))
        make_face()
        with BuildLine():
            Line((-0.707752034, 5.07), (-0.653675875, 5.07))
            ThreePointArc((-0.653675875, 5.07), (-1.466642551, 5.621410471), (-2.279609228, 5.07))
            Line((-2.279609228, 5.07), (-2.225533068, 5.07))
            ThreePointArc((-2.225533068, 5.07), (-1.466642551, 5.571410471), (-0.707752034, 5.07))
        make_face()
        with Locations((1.466642551, 4.746410471)):
            Circle(SKETCH12_5_R)
        with Locations((1.466642551, 4.746410471)):
            Circle(SKETCH12_5_R_2, mode=Mode.SUBTRACT)
    extrude(amount=OUTER_LENS_DEPTH)

    # Sketch12_7 → Inner lens cut (add)
    with BuildSketch(Plane.XY.offset(7.39677242)):
        with BuildLine():
            Line((-2.225533068, 5.07), (-0.707752034, 5.07))
            ThreePointArc((-0.707752034, 5.07), (-1.466642551, 5.571410471), (-2.225533068, 5.07))
        make_face()
        with BuildLine():
            ThreePointArc((-0.641642551, 4.746410471), (-0.658338872, 4.911547268), (-0.707752034, 5.07))
            Line((-0.707752034, 5.07), (-2.225533068, 5.07))
            ThreePointArc((-2.225533068, 5.07), (-1.631779348, 3.938106792), (-0.641642551, 4.746410471))
        make_face()
        with Locations((1.466642551, 4.746410471)):
            Circle(SKETCH12_7_R)
    extrude(amount=INNER_LENS_CUT_DEPTH)

    # Sketch15 → Cut-Extrude3 (cut, up to next)
    with BuildSketch(Plane(origin=(0, 0, 0), x_dir=(0, 0, -1), z_dir=(1, 0, 0)), mode=Mode.PRIVATE) as cut_extrude3_sk1:
        with Locations((-2.2, 0)):
            Circle(SKETCH15_R)
    cut_extrude3_tool1 = extrude(cut_extrude3_sk1.sketch, amount=-CUT_EXTRUDE3_REACH, mode=Mode.PRIVATE) & part.part
    add(cut_extrude3_tool1.solids().sort_by_distance((0, 0, 2.2))[0], mode=Mode.SUBTRACT)

    # Sketch15 → Cut-Extrude3 direction 2 (cut, up to next)
    with BuildSketch(Plane(origin=(0, 0, 0), x_dir=(0, 0, -1), z_dir=(1, 0, 0)), mode=Mode.PRIVATE) as cut_extrude3_direction_2_sk1:
        with Locations((-2.2, 0)):
            Circle(SKETCH15_R)
    cut_extrude3_direction_2_tool1 = extrude(cut_extrude3_direction_2_sk1.sketch, amount=CUT_EXTRUDE3_DIRECTION_2_REACH, mode=Mode.PRIVATE) & part.part
    add(cut_extrude3_direction_2_tool1.solids().sort_by_distance((0, 0, 2.2))[0], mode=Mode.SUBTRACT)

    # Sketch12_6 → Boss-Extrude16 (add)
    with BuildSketch(Plane.XY.offset(7.39677242)):
        with BuildLine():
            Line((-2.225533068, 5.07), (-0.707752034, 5.07))
            ThreePointArc((-0.707752034, 5.07), (-1.466642551, 5.571410471), (-2.225533068, 5.07))
        make_face()
        with BuildLine():
            ThreePointArc((-0.641642551, 4.746410471), (-0.658338872, 4.911547268), (-0.707752034, 5.07))
            Line((-0.707752034, 5.07), (-2.225533068, 5.07))
            ThreePointArc((-2.225533068, 5.07), (-1.631779348, 3.938106792), (-0.641642551, 4.746410471))
        make_face()
        with Locations((1.466642551, 4.746410471)):
            Circle(SKETCH12_6_R)
    extrude(amount=BOSS_EXTRUDE16_DEPTH)


solid = part.part
